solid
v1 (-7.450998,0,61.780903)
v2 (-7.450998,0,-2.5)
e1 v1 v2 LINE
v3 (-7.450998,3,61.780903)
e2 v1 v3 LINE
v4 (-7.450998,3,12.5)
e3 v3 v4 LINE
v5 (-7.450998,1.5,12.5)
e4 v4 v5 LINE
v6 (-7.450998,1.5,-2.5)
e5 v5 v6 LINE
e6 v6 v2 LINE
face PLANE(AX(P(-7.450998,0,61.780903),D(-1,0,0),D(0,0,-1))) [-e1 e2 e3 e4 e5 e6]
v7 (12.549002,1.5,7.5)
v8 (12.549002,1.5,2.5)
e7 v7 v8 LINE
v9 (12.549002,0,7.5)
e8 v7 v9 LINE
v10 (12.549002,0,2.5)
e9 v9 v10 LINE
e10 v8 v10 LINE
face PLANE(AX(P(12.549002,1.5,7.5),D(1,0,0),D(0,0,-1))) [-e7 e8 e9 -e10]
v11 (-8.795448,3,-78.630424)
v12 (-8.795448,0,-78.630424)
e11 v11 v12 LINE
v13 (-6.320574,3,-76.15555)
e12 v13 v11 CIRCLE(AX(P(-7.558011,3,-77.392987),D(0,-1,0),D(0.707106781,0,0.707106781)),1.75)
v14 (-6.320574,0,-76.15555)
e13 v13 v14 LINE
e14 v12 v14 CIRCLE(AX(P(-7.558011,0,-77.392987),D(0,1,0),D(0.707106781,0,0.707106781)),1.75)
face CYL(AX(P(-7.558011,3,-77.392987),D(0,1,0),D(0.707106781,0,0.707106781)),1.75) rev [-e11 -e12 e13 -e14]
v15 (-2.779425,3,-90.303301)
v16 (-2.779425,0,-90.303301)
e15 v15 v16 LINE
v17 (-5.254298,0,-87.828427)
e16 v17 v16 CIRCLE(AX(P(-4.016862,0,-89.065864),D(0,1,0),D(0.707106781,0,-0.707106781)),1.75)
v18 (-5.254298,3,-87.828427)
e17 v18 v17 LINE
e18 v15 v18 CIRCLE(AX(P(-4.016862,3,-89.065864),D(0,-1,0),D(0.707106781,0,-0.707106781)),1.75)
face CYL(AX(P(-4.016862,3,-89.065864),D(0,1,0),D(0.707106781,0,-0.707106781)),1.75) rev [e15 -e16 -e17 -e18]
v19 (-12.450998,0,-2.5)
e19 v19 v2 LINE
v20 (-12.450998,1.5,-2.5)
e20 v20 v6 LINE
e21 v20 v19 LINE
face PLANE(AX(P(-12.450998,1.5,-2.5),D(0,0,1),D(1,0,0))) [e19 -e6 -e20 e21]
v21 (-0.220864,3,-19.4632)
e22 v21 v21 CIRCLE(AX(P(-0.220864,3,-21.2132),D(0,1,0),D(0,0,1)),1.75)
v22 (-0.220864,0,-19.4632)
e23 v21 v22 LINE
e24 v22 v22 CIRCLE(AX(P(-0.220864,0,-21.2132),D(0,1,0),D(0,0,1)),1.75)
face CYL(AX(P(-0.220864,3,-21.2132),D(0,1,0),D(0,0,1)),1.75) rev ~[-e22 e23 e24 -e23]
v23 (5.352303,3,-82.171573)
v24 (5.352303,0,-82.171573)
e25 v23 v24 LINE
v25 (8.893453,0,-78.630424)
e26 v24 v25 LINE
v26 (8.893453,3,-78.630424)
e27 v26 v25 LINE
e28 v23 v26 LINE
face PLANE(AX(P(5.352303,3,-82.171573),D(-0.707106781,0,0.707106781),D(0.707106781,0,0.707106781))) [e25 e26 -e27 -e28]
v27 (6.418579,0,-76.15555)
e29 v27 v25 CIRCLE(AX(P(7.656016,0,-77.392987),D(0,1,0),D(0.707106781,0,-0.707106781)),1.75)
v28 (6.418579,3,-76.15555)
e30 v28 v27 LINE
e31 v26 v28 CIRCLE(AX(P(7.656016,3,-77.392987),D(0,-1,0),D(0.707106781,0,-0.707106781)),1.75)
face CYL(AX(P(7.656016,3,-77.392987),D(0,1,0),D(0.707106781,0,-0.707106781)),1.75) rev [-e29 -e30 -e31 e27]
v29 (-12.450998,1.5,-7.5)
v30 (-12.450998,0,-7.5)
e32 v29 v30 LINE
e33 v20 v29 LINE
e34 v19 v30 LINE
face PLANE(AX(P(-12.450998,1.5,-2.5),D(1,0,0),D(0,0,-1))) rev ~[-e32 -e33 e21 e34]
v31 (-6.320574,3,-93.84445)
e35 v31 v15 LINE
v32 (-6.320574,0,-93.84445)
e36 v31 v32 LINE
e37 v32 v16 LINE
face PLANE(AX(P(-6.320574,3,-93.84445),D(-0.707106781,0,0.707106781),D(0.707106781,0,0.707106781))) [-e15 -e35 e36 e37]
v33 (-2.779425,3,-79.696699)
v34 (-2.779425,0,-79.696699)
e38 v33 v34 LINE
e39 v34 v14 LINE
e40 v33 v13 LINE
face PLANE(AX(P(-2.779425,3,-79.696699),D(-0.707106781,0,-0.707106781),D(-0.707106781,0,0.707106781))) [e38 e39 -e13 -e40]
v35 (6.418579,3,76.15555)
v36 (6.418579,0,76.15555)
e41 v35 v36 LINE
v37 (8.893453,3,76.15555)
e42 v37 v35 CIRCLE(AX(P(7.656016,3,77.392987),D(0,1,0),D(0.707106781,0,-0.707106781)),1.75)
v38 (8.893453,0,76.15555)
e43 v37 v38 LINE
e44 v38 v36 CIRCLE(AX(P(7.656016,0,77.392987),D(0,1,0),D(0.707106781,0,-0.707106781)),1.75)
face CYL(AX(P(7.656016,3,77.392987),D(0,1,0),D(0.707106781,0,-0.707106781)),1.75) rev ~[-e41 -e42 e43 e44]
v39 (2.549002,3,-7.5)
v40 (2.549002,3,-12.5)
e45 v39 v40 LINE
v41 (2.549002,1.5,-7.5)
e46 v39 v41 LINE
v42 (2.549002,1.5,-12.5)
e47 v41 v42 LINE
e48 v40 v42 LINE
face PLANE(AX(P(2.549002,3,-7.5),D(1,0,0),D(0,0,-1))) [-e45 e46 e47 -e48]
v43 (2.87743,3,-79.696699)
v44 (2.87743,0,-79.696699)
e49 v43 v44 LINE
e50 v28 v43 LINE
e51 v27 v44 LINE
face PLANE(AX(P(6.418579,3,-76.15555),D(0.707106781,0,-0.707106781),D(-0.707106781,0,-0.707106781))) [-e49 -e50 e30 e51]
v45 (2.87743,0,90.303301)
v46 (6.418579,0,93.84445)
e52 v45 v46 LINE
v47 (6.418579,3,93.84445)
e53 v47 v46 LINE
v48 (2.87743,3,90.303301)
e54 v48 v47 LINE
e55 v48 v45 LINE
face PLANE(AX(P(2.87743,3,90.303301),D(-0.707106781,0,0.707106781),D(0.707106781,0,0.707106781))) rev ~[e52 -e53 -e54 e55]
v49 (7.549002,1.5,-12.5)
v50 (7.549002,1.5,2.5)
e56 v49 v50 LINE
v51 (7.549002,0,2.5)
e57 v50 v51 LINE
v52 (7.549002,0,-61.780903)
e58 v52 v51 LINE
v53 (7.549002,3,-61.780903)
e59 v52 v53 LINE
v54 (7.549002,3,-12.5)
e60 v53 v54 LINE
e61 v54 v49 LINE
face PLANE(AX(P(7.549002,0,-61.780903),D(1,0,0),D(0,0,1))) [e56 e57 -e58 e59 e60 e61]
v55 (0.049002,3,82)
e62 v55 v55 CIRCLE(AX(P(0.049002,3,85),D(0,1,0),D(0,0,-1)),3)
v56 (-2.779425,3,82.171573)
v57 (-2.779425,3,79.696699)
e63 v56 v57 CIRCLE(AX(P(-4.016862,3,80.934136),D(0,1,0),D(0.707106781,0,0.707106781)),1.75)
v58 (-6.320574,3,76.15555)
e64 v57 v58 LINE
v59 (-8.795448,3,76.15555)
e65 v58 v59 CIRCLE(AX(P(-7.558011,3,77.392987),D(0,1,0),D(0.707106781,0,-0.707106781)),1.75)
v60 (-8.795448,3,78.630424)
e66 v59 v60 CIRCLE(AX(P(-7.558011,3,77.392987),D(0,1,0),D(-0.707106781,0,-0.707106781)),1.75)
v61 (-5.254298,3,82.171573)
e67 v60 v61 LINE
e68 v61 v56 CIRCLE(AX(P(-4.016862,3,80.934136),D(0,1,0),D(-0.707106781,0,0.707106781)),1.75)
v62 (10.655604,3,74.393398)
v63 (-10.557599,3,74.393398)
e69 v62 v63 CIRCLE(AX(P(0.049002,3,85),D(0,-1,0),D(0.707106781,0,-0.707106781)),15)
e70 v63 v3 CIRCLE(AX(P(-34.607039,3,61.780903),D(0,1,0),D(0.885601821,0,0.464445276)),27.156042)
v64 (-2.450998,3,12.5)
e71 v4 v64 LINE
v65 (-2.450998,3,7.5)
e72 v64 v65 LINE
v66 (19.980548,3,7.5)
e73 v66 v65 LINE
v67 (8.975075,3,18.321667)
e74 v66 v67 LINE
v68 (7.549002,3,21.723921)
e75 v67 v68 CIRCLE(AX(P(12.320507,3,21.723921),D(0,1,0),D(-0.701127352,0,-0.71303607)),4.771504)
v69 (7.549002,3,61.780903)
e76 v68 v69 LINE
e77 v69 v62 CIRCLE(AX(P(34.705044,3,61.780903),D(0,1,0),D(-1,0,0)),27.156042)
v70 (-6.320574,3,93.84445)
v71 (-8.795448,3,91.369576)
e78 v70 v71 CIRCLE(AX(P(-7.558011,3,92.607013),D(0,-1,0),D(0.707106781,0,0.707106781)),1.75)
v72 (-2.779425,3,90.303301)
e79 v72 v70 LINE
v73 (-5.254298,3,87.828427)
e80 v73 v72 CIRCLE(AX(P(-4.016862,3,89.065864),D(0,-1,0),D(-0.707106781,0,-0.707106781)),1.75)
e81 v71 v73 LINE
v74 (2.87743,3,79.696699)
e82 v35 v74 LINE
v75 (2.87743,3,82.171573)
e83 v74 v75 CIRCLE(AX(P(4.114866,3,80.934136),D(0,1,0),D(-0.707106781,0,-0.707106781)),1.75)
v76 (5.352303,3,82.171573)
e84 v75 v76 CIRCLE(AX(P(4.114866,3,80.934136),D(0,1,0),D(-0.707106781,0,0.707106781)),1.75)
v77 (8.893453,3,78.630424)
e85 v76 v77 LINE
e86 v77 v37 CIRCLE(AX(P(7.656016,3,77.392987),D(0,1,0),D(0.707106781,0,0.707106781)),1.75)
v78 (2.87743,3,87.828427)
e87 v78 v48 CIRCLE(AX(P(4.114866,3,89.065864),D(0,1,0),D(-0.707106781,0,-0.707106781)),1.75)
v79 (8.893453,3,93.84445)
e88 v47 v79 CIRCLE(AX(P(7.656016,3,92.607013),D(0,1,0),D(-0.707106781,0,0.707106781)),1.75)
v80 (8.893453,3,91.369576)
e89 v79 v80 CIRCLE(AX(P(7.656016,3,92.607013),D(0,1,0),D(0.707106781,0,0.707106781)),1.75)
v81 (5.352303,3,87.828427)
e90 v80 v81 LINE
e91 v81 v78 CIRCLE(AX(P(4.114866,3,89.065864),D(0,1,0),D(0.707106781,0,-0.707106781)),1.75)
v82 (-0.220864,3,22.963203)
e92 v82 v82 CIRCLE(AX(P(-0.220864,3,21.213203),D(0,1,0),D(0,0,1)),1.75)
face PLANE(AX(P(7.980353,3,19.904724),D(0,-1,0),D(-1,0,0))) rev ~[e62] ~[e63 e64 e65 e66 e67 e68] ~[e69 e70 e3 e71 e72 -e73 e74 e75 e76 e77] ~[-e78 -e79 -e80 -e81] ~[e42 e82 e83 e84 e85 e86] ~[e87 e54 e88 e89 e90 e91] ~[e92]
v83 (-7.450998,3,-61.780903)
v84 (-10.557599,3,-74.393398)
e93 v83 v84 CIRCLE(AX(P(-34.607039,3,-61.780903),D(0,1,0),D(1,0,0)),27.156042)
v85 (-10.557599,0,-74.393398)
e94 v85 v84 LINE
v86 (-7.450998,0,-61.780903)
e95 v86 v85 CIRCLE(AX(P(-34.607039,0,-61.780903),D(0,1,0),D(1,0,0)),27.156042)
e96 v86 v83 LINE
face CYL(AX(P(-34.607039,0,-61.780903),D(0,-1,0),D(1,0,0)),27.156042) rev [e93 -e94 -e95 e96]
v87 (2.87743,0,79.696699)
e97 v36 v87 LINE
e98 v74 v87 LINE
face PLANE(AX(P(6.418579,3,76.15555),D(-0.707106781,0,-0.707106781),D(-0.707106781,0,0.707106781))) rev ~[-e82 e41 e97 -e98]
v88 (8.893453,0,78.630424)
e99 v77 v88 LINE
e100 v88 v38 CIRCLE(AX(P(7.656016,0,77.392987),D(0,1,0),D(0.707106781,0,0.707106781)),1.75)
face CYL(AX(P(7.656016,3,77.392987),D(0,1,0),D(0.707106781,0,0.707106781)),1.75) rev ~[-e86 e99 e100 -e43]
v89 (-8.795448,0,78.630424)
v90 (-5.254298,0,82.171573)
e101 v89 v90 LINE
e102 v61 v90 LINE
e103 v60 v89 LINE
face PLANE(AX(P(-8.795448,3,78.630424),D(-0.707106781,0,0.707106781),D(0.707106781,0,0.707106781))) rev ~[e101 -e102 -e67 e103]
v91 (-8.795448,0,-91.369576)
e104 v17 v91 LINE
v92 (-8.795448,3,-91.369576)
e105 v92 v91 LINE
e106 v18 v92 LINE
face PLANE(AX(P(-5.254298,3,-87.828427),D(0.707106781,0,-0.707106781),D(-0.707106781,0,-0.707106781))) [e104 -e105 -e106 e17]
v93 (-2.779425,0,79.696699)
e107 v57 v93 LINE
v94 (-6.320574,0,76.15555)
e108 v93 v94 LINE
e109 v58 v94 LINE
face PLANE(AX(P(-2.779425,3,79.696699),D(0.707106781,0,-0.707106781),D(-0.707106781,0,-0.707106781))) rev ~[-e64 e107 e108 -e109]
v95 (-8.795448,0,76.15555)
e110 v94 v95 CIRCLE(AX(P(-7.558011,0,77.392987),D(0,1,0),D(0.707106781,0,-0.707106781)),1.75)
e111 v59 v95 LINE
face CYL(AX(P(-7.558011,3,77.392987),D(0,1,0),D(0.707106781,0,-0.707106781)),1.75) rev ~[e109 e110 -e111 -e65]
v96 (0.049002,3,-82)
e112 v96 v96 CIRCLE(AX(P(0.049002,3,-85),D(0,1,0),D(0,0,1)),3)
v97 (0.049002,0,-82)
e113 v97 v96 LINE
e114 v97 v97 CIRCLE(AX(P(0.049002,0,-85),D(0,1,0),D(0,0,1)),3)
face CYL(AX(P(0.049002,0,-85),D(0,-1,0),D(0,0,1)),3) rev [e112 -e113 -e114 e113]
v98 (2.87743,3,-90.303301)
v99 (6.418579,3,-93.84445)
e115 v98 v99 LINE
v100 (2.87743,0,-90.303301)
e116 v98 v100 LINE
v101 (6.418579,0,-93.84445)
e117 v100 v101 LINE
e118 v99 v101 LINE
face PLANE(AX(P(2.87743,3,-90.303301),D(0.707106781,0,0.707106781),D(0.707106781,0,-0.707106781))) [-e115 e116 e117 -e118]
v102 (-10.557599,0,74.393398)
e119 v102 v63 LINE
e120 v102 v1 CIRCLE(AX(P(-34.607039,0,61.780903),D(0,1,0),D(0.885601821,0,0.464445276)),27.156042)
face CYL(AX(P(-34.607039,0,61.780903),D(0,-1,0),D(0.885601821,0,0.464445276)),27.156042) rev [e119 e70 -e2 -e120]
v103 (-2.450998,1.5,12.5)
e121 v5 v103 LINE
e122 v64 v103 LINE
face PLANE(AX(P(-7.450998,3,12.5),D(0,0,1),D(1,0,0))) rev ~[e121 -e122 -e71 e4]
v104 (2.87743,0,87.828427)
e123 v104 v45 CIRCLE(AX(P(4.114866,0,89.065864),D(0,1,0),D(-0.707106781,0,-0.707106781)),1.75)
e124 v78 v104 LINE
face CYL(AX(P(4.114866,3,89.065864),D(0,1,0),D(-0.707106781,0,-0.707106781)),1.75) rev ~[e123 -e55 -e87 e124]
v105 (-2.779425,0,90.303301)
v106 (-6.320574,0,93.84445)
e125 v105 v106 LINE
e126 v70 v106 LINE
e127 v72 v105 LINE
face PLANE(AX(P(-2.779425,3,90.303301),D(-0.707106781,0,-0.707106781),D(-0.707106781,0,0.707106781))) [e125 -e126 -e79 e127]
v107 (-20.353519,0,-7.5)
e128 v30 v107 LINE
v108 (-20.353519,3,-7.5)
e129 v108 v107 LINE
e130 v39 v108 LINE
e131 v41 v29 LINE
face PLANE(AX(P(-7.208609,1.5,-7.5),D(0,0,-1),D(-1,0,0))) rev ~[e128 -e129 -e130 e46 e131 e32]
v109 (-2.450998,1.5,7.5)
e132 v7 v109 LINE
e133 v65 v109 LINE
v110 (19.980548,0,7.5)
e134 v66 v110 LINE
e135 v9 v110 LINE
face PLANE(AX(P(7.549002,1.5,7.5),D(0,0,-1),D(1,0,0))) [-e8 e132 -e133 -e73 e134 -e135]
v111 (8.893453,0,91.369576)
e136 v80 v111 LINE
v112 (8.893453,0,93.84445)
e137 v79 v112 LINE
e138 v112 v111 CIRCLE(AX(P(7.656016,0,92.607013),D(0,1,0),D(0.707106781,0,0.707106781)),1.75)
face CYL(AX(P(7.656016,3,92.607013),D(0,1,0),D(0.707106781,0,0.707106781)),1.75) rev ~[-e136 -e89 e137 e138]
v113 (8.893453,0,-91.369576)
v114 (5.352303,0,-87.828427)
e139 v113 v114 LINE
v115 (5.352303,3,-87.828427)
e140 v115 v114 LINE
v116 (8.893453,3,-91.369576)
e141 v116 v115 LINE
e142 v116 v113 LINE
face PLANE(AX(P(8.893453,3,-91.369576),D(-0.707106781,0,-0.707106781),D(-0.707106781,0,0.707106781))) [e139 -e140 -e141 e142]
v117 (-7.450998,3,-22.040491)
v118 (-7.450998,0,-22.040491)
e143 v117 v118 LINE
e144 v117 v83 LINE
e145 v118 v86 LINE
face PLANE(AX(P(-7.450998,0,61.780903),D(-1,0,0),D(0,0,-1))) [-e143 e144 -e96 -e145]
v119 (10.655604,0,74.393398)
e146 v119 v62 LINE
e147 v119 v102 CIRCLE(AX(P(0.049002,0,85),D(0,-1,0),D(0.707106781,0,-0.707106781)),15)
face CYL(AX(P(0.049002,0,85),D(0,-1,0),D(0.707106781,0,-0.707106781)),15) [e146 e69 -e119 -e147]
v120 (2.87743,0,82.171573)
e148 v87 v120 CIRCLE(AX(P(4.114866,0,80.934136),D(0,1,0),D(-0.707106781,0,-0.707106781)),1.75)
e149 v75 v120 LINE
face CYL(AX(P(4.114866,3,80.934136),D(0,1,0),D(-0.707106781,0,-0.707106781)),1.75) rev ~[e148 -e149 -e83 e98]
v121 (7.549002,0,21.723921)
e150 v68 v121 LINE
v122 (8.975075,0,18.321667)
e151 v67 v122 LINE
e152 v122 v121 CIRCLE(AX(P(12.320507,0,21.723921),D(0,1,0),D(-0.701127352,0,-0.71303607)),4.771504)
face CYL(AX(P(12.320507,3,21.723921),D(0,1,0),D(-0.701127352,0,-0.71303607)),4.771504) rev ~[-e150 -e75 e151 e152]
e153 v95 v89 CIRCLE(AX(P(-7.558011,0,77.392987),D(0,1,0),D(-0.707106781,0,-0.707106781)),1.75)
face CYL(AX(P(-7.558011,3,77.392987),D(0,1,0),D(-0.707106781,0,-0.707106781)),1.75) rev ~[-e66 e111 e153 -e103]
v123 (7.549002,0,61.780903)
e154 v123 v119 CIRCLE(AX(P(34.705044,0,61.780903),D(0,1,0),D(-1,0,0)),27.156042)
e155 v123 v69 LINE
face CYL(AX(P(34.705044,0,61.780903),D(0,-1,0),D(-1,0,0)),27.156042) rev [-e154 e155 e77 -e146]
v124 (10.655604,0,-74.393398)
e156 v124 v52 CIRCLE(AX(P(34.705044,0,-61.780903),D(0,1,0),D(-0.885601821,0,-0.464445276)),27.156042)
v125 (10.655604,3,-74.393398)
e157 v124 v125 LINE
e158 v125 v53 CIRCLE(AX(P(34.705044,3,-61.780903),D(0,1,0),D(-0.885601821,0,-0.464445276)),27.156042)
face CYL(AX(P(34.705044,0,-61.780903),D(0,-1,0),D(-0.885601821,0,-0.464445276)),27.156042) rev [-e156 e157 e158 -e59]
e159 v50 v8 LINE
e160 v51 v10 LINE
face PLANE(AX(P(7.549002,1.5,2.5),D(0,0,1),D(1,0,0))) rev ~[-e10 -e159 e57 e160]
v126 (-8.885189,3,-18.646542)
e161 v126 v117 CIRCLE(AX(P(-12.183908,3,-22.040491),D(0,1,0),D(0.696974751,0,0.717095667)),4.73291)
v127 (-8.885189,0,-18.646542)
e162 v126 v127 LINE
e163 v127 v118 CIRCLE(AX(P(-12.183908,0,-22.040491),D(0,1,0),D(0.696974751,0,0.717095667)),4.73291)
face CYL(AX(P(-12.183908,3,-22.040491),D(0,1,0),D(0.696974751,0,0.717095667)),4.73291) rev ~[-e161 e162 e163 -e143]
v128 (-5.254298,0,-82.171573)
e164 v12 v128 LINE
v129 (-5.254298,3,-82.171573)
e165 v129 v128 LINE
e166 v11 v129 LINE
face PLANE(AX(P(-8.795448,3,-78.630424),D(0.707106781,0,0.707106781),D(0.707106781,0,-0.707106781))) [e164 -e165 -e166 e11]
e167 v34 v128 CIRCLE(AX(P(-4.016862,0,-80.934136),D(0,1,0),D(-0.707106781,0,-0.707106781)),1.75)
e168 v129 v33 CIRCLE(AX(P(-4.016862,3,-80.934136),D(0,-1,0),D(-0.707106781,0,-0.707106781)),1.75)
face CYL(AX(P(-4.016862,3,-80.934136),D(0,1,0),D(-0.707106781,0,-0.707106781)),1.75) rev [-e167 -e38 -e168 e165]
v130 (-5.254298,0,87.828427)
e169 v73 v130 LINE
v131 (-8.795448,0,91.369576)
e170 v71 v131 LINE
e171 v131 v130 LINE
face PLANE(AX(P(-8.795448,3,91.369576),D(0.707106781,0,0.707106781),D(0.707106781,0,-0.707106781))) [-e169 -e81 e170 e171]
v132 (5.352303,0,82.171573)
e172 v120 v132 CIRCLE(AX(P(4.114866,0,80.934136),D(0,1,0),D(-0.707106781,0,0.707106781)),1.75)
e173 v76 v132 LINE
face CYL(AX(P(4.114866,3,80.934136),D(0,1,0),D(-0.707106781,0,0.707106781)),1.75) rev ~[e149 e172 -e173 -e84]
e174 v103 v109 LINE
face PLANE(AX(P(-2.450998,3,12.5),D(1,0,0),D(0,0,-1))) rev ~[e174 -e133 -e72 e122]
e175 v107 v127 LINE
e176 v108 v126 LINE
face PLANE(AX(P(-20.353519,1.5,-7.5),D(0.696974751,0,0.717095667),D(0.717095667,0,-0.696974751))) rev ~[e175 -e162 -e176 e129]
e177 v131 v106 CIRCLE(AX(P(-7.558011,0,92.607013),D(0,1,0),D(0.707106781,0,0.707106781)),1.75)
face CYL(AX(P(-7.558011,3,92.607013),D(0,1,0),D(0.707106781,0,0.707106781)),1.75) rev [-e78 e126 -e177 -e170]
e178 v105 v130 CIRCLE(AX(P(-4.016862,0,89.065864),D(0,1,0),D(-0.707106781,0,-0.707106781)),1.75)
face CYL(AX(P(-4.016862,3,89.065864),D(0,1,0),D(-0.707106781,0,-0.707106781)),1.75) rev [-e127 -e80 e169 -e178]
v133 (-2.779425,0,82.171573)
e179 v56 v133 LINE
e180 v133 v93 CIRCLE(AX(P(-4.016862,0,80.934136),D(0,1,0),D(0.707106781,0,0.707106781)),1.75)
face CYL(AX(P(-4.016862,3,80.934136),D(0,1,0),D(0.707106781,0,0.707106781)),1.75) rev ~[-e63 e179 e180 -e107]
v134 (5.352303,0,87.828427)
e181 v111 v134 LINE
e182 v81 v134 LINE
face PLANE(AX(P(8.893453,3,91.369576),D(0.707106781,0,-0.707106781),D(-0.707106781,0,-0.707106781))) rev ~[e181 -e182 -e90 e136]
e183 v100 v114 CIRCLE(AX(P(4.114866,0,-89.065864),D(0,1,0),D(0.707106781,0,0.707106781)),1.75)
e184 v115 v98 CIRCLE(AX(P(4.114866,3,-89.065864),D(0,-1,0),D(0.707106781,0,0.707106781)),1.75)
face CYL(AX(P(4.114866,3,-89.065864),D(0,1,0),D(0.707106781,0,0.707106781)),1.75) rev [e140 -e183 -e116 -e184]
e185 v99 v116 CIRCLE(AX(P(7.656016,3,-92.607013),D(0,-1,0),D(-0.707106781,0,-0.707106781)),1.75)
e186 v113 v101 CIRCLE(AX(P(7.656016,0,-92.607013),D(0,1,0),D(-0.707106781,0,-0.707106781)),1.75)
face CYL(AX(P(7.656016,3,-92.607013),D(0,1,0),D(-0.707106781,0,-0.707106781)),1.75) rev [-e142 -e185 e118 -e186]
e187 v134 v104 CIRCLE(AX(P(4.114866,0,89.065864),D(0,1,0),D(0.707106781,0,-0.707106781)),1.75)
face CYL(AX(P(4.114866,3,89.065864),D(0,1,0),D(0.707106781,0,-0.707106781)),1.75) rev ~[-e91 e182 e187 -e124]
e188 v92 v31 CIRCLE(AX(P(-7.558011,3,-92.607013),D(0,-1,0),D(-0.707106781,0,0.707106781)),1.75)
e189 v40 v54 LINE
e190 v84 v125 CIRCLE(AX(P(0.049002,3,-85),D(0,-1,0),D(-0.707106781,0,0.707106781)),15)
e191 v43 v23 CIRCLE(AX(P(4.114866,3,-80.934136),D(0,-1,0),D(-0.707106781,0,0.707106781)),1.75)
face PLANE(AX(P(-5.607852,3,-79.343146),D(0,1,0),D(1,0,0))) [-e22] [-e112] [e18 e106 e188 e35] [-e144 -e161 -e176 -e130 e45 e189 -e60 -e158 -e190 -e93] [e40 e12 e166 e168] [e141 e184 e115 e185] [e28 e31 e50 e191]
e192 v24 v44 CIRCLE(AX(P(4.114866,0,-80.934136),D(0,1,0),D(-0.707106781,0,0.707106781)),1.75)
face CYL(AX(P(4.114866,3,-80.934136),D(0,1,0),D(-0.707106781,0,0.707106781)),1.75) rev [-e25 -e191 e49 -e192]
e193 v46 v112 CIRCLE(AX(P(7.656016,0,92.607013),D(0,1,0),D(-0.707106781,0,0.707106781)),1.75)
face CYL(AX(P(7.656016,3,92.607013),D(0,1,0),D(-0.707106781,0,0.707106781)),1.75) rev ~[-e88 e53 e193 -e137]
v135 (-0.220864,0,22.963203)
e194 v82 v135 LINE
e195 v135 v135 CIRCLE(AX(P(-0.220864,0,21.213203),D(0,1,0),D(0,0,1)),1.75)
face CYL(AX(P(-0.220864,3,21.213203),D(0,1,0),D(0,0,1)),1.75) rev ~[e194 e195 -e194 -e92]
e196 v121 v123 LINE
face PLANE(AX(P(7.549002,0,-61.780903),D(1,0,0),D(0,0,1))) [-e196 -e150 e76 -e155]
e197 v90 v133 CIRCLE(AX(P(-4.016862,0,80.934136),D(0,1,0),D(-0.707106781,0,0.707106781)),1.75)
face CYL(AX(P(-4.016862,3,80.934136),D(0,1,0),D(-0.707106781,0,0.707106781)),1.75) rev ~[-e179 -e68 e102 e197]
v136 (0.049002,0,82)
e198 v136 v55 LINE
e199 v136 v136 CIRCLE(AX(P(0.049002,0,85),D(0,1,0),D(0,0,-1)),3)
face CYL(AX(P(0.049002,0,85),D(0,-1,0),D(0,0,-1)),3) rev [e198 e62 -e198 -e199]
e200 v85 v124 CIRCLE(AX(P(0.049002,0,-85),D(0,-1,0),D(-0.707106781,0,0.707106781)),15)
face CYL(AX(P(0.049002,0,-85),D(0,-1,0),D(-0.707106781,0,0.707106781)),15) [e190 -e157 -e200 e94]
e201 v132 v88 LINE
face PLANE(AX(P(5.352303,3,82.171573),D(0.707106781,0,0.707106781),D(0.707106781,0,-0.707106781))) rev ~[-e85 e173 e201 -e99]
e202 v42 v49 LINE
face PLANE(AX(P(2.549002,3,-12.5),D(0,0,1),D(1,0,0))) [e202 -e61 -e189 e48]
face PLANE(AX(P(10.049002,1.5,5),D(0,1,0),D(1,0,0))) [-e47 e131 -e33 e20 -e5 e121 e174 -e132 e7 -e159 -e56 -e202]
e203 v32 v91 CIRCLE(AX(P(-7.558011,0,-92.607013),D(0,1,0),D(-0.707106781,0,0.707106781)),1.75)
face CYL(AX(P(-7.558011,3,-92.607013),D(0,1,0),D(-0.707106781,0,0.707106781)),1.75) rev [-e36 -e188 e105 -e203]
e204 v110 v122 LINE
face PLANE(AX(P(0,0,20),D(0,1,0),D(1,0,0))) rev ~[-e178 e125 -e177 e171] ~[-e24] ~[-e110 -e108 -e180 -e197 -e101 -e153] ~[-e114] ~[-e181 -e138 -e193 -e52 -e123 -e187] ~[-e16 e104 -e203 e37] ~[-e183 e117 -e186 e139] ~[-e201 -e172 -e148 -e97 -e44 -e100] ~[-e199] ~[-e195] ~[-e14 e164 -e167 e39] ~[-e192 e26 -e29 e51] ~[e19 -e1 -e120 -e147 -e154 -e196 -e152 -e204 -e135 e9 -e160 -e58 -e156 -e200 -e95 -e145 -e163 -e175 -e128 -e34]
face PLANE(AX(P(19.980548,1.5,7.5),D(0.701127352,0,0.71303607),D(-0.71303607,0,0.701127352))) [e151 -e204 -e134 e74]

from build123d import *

# Parameters (mm, degrees)
SKETCH1_R            = 3
SKETCH1_R_2          = 1.75
SKETCH1_R_3          = 1.5
BOSS_EXTRUDE2_DEPTH  = 3
SKETCH3_W            = 15.09800494
SKETCH3_H            = 15
CUT_EXTRUDE1_DEPTH   = 1.5
BOSS_EXTRUDE5_DEPTH  = 1.5
SKETCH5_W            = 5
SKETCH5_H            = 5
CUT_EXTRUDE2_DEPTH   = 1.5
BOSS_EXTRUDE7_DEPTH  = 3
SKETCH11_W           = 5
SKETCH11_H           = 5
BOSS_EXTRUDE11_DEPTH = 1.5
BOSS_EXTRUDE13_START = -3
SKETCH13_R           = 1.5
BOSS_EXTRUDE13_DEPTH = 3
SKETCH14_R           = 1.5
CUT_EXTRUDE6_DEPTH   = 103.094396255
SKETCH15_R           = 1.75
BOSS_EXTRUDE14_DEPTH = 3
SKETCH16_R           = 1.75
CUT_EXTRUDE7_DEPTH   = 103.094396255
SKETCH17_R           = 2.254560192
SKETCH17_R_2         = 2.966312922
SKETCH17_R_3         = 2.636452531
SKETCH17_R_4         = 1.99649084
SKETCH17_R_5         = 2.524996951
SKETCH17_R_6         = 3.313056584
SKETCH17_R_7         = 2.262213741
SKETCH17_R_8         = 2.353292134
BOSS_EXTRUDE15_DEPTH = 3
SKETCH19_R           = 1.75
CUT_EXTRUDE10_DEPTH  = 10
CUT_EXTRUDE11_DEPTH  = 10


with BuildPart() as part:
    # Sketch1 → Boss-Extrude2 (new body)
    with BuildSketch(Plane(origin=(0, 0, 0), x_dir=(1, 0, 0), z_dir=(0, 1, 0))):
        with BuildLine():
            Line((-7.45099753, -61.780902979), (-7.45099753, 61.780902979))
            ThreePointArc((-7.45099753, 61.780902979), (-8.239083338, 68.275631842), (-10.557599248, 74.393398282))
            ThreePointArc((-10.557599248, 74.393398282), (0.04900247, 100), (10.655604188, 74.393398282))
            ThreePointArc((10.655604188, 74.393398282), (8.337088278, 68.275631842), (7.54900247, 61.780902979))
            Line((7.54900247, 61.780902979), (7.54900247, -61.780902979))
            ThreePointArc((7.54900247, -61.780902979), (8.337088278, -68.275631842), (10.655604188, -74.393398282))
            ThreePointArc((10.655604188, -74.393398282), (0.04900247, -100), (-10.557599248, -74.393398282))
            ThreePointArc((-10.557599248, -74.393398282), (-8.239083338, -68.275631842), (-7.45099753, -61.780902979))
        make_face()
        with Locations(Location((0.04900247, 85, 0), (0, 0, 270))):
            Circle(SKETCH1_R, mode=Mode.SUBTRACT)
        with Locations(Location((-6.668511951, 91.717514421, 0), (0, 0, 270))):
            Circle(SKETCH1_R_2, mode=Mode.SUBTRACT)
        with Locations(Location((-5.607851779, 79.343145751, 0), (0, 0, 270))):
            Circle(SKETCH1_R_2, mode=Mode.SUBTRACT)
        with Locations(Location((5.70585672, 90.656854249, 0), (0, 0, 270))):
            Circle(SKETCH1_R_2, mode=Mode.SUBTRACT)
        with Locations(Location((6.766516891, 78.282485579, 0), (0, 0, 270))):
            Circle(SKETCH1_R_2, mode=Mode.SUBTRACT)
        with Locations(Location((0, 20, 0), (0, 0, 270))):
            Circle(SKETCH1_R_3, mode=Mode.SUBTRACT)
        with Locations(Location((5.70585672, -90.656854249, 0), (0, 0, 90))):
            Circle(SKETCH1_R_2, mode=Mode.SUBTRACT)
        with Locations(Location((-6.668511951, -91.717514421, 0), (0, 0, 90))):
            Circle(SKETCH1_R_2, mode=Mode.SUBTRACT)
        with Locations(Location((0.04900247, -85, 0), (0, 0, 90))):
            Circle(SKETCH1_R, mode=Mode.SUBTRACT)
        with Locations(Location((6.766516891, -78.282485579, 0), (0, 0, 90))):
            Circle(SKETCH1_R_2, mode=Mode.SUBTRACT)
        with Locations(Location((-5.607851779, -79.343145751, 0), (0, 0, 90))):
            Circle(SKETCH1_R_2, mode=Mode.SUBTRACT)
        with Locations(Location((0, -20, 0), (0, 0, 90))):
            Circle(SKETCH1_R_3, mode=Mode.SUBTRACT)
    extrude(amount=BOSS_EXTRUDE2_DEPTH)

    # Sketch3 → Cut-Extrude1 (cut)
    with BuildSketch(Plane(origin=(0, 3, 0), x_dir=(1, 0, 0), z_dir=(0, 1, 0))):
        Rectangle(SKETCH3_W, SKETCH3_H)
    extrude(amount=-CUT_EXTRUDE1_DEPTH, mode=Mode.SUBTRACT)

    # Sketch4 → Boss-Extrude5 (add, symmetric)
    with BuildSketch(Plane(origin=(0, 1.5, 0), x_dir=(1, 0, 0), z_dir=(0, 1, 0))):
        Polygon((7.54900247, -7.5), (19.98054828, -7.5), (7.54900247, -19.723921291), align=None)
        Polygon((-7.208608823, 7.5), (-20.353519271, 7.5), (-7.208608823, 20.276078709), align=None)
    extrude(amount=BOSS_EXTRUDE5_DEPTH, both=True)

    # Sketch5 → Cut-Extrude2 (cut)
    with BuildSketch(Plane(origin=(0, 3, 0), x_dir=(1, 0, 0), z_dir=(0, 1, 0))):
        with Locations((5.04900247, 10)):
            Rectangle(SKETCH5_W, SKETCH5_H)
        with Locations((-4.95099753, -10)):
            Rectangle(SKETCH5_W, SKETCH5_H)
    extrude(amount=-CUT_EXTRUDE2_DEPTH, mode=Mode.SUBTRACT)

    # Sketch6 → Boss-Extrude7 (add)
    with BuildSketch(Plane(origin=(0, 3, 0), x_dir=(1, 0, 0), z_dir=(0, 1, 0))):
        with BuildLine():
            Line((7.54900247, -19.723921291), (8.975074609, -18.321666587))
            ThreePointArc((8.975074609, -18.321666587), (7.919938782, -19.879401108), (7.54900247, -21.723921291))
            Line((7.54900247, -21.723921291), (7.54900247, -19.723921291))
        make_face()
        with BuildLine():
            Line((-7.45099753, 20.040491163), (-8.885188865, 18.646541661))
            ThreePointArc((-8.885188865, 18.646541661), (-7.824264446, 20.198223674), (-7.45099753, 22.040491163))
            Line((-7.45099753, 22.040491163), (-7.45099753, 20.040491163))
        make_face()
    extrude(amount=-BOSS_EXTRUDE7_DEPTH)

    # Sketch11 → Boss-Extrude11 (add)
    with BuildSketch(Plane(origin=(0, 1.5, 0), x_dir=(1, 0, 0), z_dir=(0, 1, 0))):
        with Locations((10.04900247, -5)):
            Rectangle(SKETCH11_W, SKETCH11_H)
        with Locations((-9.95099753, 5)):
            Rectangle(SKETCH11_W, SKETCH11_H)
    extrude(amount=-BOSS_EXTRUDE11_DEPTH)

    # Sketch13 → Boss-Extrude13 (add)
    with BuildSketch(Plane(origin=(0, 3, 0), x_dir=(1, 0, 0), z_dir=(0, 1, 0)).offset(BOSS_EXTRUDE13_START)):
        with Locations((0, -20)):
            Circle(SKETCH13_R)
        with Locations((0, 20)):
            Circle(SKETCH13_R)
    extrude(amount=BOSS_EXTRUDE13_DEPTH)

    # Sketch14 → Cut-Extrude6 (cut, through all)
    with BuildSketch(Plane(origin=(0, 3, 0), x_dir=(1, 0, 0), z_dir=(0, 1, 0))):
        with Locations(Location((-0.220863586, -21.21320344, 0), (0, 0, 270))):
            Circle(SKETCH14_R)
        with Locations(Location((-0.220863586, 21.2132, 0), (0, 0, 270))):
            Circle(SKETCH14_R)
    extrude(amount=-CUT_EXTRUDE6_DEPTH, mode=Mode.SUBTRACT)

    # Sketch15 → Boss-Extrude14 (add, through all)
    with BuildSketch(Plane(origin=(0, 3, 0), x_dir=(1, 0, 0), z_dir=(0, 1, 0))):
        with Locations((-5.607851779, 79.343145751)):
            Circle(SKETCH15_R)
        with Locations((6.766516891, 78.282485579)):
            Circle(SKETCH15_R)
        with Locations((-6.668511951, 91.717514421)):
            Circle(SKETCH15_R)
        with Locations((5.70585672, 90.656854249)):
            Circle(SKETCH15_R)
    extrude(amount=-BOSS_EXTRUDE14_DEPTH)

    # Sketch16 → Cut-Extrude7 (cut, through all)
    with BuildSketch(Plane(origin=(0, 3, 0), x_dir=(1, 0, 0), z_dir=(0, 1, 0))):
        with Locations(Location((-6.668511951, 78.282485579, 0), (0, 0, 270))):
            Circle(SKETCH16_R)
        with Locations(Location((5.70585672, 79.343145751, 0), (0, 0, 270))):
            Circle(SKETCH16_R)
        with Locations(Location((6.766516891, 91.717514421, 0), (0, 0, 270))):
            Circle(SKETCH16_R)
        with Locations(Location((-5.610118231, 90.659120701, 0), (0, 0, 270))):
            Circle(SKETCH16_R)
    extrude(amount=-CUT_EXTRUDE7_DEPTH, mode=Mode.SUBTRACT)

    # Sketch17 → Boss-Extrude15 (add)
    with BuildSketch(Plane(origin=(0, 3, 0), x_dir=(1, 0, 0), z_dir=(0, 1, 0))):
        with Locations((5.70585672, 79.343145751)):
            Circle(SKETCH17_R)
        with Locations((-6.668511951, 78.282485579)):
            Circle(SKETCH17_R_2)
        with Locations((-5.610118231, 90.659120701)):
            Circle(SKETCH17_R_3)
        with Locations((6.766516891, 91.717514421)):
            Circle(SKETCH17_R_4)
        with Locations((-6.668511951, -91.717514421)):
            Circle(SKETCH17_R_5)
        with Locations((-5.607851779, -79.343145751)):
            Circle(SKETCH17_R_6)
        with Locations((6.766516891, -78.282485579)):
            Circle(SKETCH17_R_7)
        with Locations((5.70585672, -90.656854249)):
            Circle(SKETCH17_R_8)
    extrude(amount=-BOSS_EXTRUDE15_DEPTH)

    # Sketch19 → Cut-Extrude10 (cut)
    with BuildSketch(Plane(origin=(0, 3, 0), x_dir=(1, 0, 0), z_dir=(0, 1, 0))):
        with Locations(Location((-0.220863586, -21.21320344, 0), (0, 0, 270))):
            Circle(SKETCH19_R)
        with Locations(Location((-0.220863586, 21.2132, 0), (0, 0, 270))):
            Circle(SKETCH19_R)
    extrude(amount=-CUT_EXTRUDE10_DEPTH, mode=Mode.SUBTRACT)

    # Sketch18 → Cut-Extrude11 (cut)
    with BuildSketch(Plane(origin=(0, 3, 0), x_dir=(1, 0, 0), z_dir=(0, 1, 0))):
        with BuildLine():
            Line((8.893452608, -93.844450138), (2.877429595, -87.828427125))
            ThreePointArc((2.877429595, -87.828427125), (2.364866462, -89.065863992), (2.877429595, -90.303300859))
            Line((2.877429595, -90.303300859), (6.418578874, -93.844450138))
            ThreePointArc((6.418578874, -93.844450138), (7.656015741, -94.357013271), (8.893452608, -93.844450138))
        make_face()
        with BuildLine():
            ThreePointArc((5.352303329, -87.828427125), (4.114866462, -87.315863992), (2.877429595, -87.828427125))
            Line((2.877429595, -87.828427125), (8.893452608, -93.844450138))
            ThreePointArc((8.893452608, -93.844450138), (9.406015741, -92.607013271), (8.893452608, -91.369576404))
            Line((8.893452608, -91.369576404), (5.352303329, -87.828427125))
        make_face()
        with BuildLine():
            Line((8.893452608, -76.155549862), (2.877429595, -82.171572875))
            ThreePointArc((2.877429595, -82.171572875), (4.114866462, -82.684136008), (5.352303329, -82.171572875))
            Line((5.352303329, -82.171572875), (8.893452608, -78.630423596))
            ThreePointArc((8.893452608, -78.630423596), (9.406015741, -77.392986729), (8.893452608, -76.155549862))
        make_face()
        with BuildLine():
            ThreePointArc((2.877429595, -79.696699141), (2.364866462, -80.934136008), (2.877429595, -82.171572875))
            Line((2.877429595, -82.171572875), (8.893452608, -76.155549862))
            ThreePointArc((8.893452608, -76.155549862), (7.656015741, -75.642986729), (6.418578874, -76.155549862))
            Line((6.418578874, -76.155549862), (2.877429595, -79.696699141))
        make_face()
        with BuildLine():
            Line((-8.795447668, -91.369576404), (-5.254298389, -87.828427125))
            ThreePointArc((-5.254298389, -87.828427125), (-2.779424655, -87.828427125), (-2.779424655, -90.303300859))
            Line((-2.779424655, -90.303300859), (-6.320573934, -93.844450138))
            ThreePointArc((-6.320573934, -93.844450138), (-8.795447668, -93.844450138), (-8.795447668, -91.369576404))
        make_face()
        with BuildLine():
            ThreePointArc((-5.254298389, -82.171572875), (-4.016861522, -82.684136008), (-2.779424655, -82.171572875))
            Line((-2.779424655, -82.171572875), (-8.795447668, -76.155549862))
            ThreePointArc((-8.795447668, -76.155549862), (-9.308010801, -77.392986729), (-8.795447668, -78.630423596))
            Line((-8.795447668, -78.630423596), (-5.254298389, -82.171572875))
        make_face()
        with BuildLine():
            Line((-8.795447668, -76.155549862), (-2.779424655, -82.171572875))
            ThreePointArc((-2.779424655, -82.171572875), (-2.266861522, -80.934136008), (-2.779424655, -79.696699141))
            Line((-2.779424655, -79.696699141), (-6.320573934, -76.155549862))
            ThreePointArc((-6.320573934, -76.155549862), (-7.558010801, -75.642986729), (-8.795447668, -76.155549862))
        make_face()
        with BuildLine():
            ThreePointArc((-2.779424655, 90.303300859), (-2.779424655, 87.828427125), (-5.254298389, 87.828427125))
            Line((-5.254298389, 87.828427125), (-8.795447668, 91.369576404))
            ThreePointArc((-8.795447668, 91.369576404), (-8.795447668, 93.844450138), (-6.320573934, 93.844450138))
            Line((-6.320573934, 93.844450138), (-2.779424655, 90.303300859))
        make_face()
        with BuildLine():
            Line((8.893452608, 91.369576404), (5.352303329, 87.828427125))
            ThreePointArc((5.352303329, 87.828427125), (2.877429595, 87.828427125), (2.877429595, 90.303300859))
            Line((2.877429595, 90.303300859), (6.418578874, 93.844450138))
            ThreePointArc((6.418578874, 93.844450138), (8.893452608, 93.844450138), (8.893452608, 91.369576404))
        make_face()
        with BuildLine():
            ThreePointArc((2.877429595, 79.696699141), (2.877429595, 82.171572875), (5.352303329, 82.171572875))
            Line((5.352303329, 82.171572875), (8.893452608, 78.630423596))
            ThreePointArc((8.893452608, 78.630423596), (8.893452608, 76.155549862), (6.418578874, 76.155549862))
            Line((6.418578874, 76.155549862), (2.877429595, 79.696699141))
        make_face()
        with BuildLine():
            Line((-8.795447668, 78.630423596), (-5.254298389, 82.171572875))
            ThreePointArc((-5.254298389, 82.171572875), (-2.779424655, 82.171572875), (-2.779424655, 79.696699141))
            Line((-2.779424655, 79.696699141), (-6.320573934, 76.155549862))
            ThreePointArc((-6.320573934, 76.155549862), (-8.795447668, 76.155549862), (-8.795447668, 78.630423596))
        make_face()
    extrude(amount=-CUT_EXTRUDE11_DEPTH, mode=Mode.SUBTRACT)


solid = part.part
